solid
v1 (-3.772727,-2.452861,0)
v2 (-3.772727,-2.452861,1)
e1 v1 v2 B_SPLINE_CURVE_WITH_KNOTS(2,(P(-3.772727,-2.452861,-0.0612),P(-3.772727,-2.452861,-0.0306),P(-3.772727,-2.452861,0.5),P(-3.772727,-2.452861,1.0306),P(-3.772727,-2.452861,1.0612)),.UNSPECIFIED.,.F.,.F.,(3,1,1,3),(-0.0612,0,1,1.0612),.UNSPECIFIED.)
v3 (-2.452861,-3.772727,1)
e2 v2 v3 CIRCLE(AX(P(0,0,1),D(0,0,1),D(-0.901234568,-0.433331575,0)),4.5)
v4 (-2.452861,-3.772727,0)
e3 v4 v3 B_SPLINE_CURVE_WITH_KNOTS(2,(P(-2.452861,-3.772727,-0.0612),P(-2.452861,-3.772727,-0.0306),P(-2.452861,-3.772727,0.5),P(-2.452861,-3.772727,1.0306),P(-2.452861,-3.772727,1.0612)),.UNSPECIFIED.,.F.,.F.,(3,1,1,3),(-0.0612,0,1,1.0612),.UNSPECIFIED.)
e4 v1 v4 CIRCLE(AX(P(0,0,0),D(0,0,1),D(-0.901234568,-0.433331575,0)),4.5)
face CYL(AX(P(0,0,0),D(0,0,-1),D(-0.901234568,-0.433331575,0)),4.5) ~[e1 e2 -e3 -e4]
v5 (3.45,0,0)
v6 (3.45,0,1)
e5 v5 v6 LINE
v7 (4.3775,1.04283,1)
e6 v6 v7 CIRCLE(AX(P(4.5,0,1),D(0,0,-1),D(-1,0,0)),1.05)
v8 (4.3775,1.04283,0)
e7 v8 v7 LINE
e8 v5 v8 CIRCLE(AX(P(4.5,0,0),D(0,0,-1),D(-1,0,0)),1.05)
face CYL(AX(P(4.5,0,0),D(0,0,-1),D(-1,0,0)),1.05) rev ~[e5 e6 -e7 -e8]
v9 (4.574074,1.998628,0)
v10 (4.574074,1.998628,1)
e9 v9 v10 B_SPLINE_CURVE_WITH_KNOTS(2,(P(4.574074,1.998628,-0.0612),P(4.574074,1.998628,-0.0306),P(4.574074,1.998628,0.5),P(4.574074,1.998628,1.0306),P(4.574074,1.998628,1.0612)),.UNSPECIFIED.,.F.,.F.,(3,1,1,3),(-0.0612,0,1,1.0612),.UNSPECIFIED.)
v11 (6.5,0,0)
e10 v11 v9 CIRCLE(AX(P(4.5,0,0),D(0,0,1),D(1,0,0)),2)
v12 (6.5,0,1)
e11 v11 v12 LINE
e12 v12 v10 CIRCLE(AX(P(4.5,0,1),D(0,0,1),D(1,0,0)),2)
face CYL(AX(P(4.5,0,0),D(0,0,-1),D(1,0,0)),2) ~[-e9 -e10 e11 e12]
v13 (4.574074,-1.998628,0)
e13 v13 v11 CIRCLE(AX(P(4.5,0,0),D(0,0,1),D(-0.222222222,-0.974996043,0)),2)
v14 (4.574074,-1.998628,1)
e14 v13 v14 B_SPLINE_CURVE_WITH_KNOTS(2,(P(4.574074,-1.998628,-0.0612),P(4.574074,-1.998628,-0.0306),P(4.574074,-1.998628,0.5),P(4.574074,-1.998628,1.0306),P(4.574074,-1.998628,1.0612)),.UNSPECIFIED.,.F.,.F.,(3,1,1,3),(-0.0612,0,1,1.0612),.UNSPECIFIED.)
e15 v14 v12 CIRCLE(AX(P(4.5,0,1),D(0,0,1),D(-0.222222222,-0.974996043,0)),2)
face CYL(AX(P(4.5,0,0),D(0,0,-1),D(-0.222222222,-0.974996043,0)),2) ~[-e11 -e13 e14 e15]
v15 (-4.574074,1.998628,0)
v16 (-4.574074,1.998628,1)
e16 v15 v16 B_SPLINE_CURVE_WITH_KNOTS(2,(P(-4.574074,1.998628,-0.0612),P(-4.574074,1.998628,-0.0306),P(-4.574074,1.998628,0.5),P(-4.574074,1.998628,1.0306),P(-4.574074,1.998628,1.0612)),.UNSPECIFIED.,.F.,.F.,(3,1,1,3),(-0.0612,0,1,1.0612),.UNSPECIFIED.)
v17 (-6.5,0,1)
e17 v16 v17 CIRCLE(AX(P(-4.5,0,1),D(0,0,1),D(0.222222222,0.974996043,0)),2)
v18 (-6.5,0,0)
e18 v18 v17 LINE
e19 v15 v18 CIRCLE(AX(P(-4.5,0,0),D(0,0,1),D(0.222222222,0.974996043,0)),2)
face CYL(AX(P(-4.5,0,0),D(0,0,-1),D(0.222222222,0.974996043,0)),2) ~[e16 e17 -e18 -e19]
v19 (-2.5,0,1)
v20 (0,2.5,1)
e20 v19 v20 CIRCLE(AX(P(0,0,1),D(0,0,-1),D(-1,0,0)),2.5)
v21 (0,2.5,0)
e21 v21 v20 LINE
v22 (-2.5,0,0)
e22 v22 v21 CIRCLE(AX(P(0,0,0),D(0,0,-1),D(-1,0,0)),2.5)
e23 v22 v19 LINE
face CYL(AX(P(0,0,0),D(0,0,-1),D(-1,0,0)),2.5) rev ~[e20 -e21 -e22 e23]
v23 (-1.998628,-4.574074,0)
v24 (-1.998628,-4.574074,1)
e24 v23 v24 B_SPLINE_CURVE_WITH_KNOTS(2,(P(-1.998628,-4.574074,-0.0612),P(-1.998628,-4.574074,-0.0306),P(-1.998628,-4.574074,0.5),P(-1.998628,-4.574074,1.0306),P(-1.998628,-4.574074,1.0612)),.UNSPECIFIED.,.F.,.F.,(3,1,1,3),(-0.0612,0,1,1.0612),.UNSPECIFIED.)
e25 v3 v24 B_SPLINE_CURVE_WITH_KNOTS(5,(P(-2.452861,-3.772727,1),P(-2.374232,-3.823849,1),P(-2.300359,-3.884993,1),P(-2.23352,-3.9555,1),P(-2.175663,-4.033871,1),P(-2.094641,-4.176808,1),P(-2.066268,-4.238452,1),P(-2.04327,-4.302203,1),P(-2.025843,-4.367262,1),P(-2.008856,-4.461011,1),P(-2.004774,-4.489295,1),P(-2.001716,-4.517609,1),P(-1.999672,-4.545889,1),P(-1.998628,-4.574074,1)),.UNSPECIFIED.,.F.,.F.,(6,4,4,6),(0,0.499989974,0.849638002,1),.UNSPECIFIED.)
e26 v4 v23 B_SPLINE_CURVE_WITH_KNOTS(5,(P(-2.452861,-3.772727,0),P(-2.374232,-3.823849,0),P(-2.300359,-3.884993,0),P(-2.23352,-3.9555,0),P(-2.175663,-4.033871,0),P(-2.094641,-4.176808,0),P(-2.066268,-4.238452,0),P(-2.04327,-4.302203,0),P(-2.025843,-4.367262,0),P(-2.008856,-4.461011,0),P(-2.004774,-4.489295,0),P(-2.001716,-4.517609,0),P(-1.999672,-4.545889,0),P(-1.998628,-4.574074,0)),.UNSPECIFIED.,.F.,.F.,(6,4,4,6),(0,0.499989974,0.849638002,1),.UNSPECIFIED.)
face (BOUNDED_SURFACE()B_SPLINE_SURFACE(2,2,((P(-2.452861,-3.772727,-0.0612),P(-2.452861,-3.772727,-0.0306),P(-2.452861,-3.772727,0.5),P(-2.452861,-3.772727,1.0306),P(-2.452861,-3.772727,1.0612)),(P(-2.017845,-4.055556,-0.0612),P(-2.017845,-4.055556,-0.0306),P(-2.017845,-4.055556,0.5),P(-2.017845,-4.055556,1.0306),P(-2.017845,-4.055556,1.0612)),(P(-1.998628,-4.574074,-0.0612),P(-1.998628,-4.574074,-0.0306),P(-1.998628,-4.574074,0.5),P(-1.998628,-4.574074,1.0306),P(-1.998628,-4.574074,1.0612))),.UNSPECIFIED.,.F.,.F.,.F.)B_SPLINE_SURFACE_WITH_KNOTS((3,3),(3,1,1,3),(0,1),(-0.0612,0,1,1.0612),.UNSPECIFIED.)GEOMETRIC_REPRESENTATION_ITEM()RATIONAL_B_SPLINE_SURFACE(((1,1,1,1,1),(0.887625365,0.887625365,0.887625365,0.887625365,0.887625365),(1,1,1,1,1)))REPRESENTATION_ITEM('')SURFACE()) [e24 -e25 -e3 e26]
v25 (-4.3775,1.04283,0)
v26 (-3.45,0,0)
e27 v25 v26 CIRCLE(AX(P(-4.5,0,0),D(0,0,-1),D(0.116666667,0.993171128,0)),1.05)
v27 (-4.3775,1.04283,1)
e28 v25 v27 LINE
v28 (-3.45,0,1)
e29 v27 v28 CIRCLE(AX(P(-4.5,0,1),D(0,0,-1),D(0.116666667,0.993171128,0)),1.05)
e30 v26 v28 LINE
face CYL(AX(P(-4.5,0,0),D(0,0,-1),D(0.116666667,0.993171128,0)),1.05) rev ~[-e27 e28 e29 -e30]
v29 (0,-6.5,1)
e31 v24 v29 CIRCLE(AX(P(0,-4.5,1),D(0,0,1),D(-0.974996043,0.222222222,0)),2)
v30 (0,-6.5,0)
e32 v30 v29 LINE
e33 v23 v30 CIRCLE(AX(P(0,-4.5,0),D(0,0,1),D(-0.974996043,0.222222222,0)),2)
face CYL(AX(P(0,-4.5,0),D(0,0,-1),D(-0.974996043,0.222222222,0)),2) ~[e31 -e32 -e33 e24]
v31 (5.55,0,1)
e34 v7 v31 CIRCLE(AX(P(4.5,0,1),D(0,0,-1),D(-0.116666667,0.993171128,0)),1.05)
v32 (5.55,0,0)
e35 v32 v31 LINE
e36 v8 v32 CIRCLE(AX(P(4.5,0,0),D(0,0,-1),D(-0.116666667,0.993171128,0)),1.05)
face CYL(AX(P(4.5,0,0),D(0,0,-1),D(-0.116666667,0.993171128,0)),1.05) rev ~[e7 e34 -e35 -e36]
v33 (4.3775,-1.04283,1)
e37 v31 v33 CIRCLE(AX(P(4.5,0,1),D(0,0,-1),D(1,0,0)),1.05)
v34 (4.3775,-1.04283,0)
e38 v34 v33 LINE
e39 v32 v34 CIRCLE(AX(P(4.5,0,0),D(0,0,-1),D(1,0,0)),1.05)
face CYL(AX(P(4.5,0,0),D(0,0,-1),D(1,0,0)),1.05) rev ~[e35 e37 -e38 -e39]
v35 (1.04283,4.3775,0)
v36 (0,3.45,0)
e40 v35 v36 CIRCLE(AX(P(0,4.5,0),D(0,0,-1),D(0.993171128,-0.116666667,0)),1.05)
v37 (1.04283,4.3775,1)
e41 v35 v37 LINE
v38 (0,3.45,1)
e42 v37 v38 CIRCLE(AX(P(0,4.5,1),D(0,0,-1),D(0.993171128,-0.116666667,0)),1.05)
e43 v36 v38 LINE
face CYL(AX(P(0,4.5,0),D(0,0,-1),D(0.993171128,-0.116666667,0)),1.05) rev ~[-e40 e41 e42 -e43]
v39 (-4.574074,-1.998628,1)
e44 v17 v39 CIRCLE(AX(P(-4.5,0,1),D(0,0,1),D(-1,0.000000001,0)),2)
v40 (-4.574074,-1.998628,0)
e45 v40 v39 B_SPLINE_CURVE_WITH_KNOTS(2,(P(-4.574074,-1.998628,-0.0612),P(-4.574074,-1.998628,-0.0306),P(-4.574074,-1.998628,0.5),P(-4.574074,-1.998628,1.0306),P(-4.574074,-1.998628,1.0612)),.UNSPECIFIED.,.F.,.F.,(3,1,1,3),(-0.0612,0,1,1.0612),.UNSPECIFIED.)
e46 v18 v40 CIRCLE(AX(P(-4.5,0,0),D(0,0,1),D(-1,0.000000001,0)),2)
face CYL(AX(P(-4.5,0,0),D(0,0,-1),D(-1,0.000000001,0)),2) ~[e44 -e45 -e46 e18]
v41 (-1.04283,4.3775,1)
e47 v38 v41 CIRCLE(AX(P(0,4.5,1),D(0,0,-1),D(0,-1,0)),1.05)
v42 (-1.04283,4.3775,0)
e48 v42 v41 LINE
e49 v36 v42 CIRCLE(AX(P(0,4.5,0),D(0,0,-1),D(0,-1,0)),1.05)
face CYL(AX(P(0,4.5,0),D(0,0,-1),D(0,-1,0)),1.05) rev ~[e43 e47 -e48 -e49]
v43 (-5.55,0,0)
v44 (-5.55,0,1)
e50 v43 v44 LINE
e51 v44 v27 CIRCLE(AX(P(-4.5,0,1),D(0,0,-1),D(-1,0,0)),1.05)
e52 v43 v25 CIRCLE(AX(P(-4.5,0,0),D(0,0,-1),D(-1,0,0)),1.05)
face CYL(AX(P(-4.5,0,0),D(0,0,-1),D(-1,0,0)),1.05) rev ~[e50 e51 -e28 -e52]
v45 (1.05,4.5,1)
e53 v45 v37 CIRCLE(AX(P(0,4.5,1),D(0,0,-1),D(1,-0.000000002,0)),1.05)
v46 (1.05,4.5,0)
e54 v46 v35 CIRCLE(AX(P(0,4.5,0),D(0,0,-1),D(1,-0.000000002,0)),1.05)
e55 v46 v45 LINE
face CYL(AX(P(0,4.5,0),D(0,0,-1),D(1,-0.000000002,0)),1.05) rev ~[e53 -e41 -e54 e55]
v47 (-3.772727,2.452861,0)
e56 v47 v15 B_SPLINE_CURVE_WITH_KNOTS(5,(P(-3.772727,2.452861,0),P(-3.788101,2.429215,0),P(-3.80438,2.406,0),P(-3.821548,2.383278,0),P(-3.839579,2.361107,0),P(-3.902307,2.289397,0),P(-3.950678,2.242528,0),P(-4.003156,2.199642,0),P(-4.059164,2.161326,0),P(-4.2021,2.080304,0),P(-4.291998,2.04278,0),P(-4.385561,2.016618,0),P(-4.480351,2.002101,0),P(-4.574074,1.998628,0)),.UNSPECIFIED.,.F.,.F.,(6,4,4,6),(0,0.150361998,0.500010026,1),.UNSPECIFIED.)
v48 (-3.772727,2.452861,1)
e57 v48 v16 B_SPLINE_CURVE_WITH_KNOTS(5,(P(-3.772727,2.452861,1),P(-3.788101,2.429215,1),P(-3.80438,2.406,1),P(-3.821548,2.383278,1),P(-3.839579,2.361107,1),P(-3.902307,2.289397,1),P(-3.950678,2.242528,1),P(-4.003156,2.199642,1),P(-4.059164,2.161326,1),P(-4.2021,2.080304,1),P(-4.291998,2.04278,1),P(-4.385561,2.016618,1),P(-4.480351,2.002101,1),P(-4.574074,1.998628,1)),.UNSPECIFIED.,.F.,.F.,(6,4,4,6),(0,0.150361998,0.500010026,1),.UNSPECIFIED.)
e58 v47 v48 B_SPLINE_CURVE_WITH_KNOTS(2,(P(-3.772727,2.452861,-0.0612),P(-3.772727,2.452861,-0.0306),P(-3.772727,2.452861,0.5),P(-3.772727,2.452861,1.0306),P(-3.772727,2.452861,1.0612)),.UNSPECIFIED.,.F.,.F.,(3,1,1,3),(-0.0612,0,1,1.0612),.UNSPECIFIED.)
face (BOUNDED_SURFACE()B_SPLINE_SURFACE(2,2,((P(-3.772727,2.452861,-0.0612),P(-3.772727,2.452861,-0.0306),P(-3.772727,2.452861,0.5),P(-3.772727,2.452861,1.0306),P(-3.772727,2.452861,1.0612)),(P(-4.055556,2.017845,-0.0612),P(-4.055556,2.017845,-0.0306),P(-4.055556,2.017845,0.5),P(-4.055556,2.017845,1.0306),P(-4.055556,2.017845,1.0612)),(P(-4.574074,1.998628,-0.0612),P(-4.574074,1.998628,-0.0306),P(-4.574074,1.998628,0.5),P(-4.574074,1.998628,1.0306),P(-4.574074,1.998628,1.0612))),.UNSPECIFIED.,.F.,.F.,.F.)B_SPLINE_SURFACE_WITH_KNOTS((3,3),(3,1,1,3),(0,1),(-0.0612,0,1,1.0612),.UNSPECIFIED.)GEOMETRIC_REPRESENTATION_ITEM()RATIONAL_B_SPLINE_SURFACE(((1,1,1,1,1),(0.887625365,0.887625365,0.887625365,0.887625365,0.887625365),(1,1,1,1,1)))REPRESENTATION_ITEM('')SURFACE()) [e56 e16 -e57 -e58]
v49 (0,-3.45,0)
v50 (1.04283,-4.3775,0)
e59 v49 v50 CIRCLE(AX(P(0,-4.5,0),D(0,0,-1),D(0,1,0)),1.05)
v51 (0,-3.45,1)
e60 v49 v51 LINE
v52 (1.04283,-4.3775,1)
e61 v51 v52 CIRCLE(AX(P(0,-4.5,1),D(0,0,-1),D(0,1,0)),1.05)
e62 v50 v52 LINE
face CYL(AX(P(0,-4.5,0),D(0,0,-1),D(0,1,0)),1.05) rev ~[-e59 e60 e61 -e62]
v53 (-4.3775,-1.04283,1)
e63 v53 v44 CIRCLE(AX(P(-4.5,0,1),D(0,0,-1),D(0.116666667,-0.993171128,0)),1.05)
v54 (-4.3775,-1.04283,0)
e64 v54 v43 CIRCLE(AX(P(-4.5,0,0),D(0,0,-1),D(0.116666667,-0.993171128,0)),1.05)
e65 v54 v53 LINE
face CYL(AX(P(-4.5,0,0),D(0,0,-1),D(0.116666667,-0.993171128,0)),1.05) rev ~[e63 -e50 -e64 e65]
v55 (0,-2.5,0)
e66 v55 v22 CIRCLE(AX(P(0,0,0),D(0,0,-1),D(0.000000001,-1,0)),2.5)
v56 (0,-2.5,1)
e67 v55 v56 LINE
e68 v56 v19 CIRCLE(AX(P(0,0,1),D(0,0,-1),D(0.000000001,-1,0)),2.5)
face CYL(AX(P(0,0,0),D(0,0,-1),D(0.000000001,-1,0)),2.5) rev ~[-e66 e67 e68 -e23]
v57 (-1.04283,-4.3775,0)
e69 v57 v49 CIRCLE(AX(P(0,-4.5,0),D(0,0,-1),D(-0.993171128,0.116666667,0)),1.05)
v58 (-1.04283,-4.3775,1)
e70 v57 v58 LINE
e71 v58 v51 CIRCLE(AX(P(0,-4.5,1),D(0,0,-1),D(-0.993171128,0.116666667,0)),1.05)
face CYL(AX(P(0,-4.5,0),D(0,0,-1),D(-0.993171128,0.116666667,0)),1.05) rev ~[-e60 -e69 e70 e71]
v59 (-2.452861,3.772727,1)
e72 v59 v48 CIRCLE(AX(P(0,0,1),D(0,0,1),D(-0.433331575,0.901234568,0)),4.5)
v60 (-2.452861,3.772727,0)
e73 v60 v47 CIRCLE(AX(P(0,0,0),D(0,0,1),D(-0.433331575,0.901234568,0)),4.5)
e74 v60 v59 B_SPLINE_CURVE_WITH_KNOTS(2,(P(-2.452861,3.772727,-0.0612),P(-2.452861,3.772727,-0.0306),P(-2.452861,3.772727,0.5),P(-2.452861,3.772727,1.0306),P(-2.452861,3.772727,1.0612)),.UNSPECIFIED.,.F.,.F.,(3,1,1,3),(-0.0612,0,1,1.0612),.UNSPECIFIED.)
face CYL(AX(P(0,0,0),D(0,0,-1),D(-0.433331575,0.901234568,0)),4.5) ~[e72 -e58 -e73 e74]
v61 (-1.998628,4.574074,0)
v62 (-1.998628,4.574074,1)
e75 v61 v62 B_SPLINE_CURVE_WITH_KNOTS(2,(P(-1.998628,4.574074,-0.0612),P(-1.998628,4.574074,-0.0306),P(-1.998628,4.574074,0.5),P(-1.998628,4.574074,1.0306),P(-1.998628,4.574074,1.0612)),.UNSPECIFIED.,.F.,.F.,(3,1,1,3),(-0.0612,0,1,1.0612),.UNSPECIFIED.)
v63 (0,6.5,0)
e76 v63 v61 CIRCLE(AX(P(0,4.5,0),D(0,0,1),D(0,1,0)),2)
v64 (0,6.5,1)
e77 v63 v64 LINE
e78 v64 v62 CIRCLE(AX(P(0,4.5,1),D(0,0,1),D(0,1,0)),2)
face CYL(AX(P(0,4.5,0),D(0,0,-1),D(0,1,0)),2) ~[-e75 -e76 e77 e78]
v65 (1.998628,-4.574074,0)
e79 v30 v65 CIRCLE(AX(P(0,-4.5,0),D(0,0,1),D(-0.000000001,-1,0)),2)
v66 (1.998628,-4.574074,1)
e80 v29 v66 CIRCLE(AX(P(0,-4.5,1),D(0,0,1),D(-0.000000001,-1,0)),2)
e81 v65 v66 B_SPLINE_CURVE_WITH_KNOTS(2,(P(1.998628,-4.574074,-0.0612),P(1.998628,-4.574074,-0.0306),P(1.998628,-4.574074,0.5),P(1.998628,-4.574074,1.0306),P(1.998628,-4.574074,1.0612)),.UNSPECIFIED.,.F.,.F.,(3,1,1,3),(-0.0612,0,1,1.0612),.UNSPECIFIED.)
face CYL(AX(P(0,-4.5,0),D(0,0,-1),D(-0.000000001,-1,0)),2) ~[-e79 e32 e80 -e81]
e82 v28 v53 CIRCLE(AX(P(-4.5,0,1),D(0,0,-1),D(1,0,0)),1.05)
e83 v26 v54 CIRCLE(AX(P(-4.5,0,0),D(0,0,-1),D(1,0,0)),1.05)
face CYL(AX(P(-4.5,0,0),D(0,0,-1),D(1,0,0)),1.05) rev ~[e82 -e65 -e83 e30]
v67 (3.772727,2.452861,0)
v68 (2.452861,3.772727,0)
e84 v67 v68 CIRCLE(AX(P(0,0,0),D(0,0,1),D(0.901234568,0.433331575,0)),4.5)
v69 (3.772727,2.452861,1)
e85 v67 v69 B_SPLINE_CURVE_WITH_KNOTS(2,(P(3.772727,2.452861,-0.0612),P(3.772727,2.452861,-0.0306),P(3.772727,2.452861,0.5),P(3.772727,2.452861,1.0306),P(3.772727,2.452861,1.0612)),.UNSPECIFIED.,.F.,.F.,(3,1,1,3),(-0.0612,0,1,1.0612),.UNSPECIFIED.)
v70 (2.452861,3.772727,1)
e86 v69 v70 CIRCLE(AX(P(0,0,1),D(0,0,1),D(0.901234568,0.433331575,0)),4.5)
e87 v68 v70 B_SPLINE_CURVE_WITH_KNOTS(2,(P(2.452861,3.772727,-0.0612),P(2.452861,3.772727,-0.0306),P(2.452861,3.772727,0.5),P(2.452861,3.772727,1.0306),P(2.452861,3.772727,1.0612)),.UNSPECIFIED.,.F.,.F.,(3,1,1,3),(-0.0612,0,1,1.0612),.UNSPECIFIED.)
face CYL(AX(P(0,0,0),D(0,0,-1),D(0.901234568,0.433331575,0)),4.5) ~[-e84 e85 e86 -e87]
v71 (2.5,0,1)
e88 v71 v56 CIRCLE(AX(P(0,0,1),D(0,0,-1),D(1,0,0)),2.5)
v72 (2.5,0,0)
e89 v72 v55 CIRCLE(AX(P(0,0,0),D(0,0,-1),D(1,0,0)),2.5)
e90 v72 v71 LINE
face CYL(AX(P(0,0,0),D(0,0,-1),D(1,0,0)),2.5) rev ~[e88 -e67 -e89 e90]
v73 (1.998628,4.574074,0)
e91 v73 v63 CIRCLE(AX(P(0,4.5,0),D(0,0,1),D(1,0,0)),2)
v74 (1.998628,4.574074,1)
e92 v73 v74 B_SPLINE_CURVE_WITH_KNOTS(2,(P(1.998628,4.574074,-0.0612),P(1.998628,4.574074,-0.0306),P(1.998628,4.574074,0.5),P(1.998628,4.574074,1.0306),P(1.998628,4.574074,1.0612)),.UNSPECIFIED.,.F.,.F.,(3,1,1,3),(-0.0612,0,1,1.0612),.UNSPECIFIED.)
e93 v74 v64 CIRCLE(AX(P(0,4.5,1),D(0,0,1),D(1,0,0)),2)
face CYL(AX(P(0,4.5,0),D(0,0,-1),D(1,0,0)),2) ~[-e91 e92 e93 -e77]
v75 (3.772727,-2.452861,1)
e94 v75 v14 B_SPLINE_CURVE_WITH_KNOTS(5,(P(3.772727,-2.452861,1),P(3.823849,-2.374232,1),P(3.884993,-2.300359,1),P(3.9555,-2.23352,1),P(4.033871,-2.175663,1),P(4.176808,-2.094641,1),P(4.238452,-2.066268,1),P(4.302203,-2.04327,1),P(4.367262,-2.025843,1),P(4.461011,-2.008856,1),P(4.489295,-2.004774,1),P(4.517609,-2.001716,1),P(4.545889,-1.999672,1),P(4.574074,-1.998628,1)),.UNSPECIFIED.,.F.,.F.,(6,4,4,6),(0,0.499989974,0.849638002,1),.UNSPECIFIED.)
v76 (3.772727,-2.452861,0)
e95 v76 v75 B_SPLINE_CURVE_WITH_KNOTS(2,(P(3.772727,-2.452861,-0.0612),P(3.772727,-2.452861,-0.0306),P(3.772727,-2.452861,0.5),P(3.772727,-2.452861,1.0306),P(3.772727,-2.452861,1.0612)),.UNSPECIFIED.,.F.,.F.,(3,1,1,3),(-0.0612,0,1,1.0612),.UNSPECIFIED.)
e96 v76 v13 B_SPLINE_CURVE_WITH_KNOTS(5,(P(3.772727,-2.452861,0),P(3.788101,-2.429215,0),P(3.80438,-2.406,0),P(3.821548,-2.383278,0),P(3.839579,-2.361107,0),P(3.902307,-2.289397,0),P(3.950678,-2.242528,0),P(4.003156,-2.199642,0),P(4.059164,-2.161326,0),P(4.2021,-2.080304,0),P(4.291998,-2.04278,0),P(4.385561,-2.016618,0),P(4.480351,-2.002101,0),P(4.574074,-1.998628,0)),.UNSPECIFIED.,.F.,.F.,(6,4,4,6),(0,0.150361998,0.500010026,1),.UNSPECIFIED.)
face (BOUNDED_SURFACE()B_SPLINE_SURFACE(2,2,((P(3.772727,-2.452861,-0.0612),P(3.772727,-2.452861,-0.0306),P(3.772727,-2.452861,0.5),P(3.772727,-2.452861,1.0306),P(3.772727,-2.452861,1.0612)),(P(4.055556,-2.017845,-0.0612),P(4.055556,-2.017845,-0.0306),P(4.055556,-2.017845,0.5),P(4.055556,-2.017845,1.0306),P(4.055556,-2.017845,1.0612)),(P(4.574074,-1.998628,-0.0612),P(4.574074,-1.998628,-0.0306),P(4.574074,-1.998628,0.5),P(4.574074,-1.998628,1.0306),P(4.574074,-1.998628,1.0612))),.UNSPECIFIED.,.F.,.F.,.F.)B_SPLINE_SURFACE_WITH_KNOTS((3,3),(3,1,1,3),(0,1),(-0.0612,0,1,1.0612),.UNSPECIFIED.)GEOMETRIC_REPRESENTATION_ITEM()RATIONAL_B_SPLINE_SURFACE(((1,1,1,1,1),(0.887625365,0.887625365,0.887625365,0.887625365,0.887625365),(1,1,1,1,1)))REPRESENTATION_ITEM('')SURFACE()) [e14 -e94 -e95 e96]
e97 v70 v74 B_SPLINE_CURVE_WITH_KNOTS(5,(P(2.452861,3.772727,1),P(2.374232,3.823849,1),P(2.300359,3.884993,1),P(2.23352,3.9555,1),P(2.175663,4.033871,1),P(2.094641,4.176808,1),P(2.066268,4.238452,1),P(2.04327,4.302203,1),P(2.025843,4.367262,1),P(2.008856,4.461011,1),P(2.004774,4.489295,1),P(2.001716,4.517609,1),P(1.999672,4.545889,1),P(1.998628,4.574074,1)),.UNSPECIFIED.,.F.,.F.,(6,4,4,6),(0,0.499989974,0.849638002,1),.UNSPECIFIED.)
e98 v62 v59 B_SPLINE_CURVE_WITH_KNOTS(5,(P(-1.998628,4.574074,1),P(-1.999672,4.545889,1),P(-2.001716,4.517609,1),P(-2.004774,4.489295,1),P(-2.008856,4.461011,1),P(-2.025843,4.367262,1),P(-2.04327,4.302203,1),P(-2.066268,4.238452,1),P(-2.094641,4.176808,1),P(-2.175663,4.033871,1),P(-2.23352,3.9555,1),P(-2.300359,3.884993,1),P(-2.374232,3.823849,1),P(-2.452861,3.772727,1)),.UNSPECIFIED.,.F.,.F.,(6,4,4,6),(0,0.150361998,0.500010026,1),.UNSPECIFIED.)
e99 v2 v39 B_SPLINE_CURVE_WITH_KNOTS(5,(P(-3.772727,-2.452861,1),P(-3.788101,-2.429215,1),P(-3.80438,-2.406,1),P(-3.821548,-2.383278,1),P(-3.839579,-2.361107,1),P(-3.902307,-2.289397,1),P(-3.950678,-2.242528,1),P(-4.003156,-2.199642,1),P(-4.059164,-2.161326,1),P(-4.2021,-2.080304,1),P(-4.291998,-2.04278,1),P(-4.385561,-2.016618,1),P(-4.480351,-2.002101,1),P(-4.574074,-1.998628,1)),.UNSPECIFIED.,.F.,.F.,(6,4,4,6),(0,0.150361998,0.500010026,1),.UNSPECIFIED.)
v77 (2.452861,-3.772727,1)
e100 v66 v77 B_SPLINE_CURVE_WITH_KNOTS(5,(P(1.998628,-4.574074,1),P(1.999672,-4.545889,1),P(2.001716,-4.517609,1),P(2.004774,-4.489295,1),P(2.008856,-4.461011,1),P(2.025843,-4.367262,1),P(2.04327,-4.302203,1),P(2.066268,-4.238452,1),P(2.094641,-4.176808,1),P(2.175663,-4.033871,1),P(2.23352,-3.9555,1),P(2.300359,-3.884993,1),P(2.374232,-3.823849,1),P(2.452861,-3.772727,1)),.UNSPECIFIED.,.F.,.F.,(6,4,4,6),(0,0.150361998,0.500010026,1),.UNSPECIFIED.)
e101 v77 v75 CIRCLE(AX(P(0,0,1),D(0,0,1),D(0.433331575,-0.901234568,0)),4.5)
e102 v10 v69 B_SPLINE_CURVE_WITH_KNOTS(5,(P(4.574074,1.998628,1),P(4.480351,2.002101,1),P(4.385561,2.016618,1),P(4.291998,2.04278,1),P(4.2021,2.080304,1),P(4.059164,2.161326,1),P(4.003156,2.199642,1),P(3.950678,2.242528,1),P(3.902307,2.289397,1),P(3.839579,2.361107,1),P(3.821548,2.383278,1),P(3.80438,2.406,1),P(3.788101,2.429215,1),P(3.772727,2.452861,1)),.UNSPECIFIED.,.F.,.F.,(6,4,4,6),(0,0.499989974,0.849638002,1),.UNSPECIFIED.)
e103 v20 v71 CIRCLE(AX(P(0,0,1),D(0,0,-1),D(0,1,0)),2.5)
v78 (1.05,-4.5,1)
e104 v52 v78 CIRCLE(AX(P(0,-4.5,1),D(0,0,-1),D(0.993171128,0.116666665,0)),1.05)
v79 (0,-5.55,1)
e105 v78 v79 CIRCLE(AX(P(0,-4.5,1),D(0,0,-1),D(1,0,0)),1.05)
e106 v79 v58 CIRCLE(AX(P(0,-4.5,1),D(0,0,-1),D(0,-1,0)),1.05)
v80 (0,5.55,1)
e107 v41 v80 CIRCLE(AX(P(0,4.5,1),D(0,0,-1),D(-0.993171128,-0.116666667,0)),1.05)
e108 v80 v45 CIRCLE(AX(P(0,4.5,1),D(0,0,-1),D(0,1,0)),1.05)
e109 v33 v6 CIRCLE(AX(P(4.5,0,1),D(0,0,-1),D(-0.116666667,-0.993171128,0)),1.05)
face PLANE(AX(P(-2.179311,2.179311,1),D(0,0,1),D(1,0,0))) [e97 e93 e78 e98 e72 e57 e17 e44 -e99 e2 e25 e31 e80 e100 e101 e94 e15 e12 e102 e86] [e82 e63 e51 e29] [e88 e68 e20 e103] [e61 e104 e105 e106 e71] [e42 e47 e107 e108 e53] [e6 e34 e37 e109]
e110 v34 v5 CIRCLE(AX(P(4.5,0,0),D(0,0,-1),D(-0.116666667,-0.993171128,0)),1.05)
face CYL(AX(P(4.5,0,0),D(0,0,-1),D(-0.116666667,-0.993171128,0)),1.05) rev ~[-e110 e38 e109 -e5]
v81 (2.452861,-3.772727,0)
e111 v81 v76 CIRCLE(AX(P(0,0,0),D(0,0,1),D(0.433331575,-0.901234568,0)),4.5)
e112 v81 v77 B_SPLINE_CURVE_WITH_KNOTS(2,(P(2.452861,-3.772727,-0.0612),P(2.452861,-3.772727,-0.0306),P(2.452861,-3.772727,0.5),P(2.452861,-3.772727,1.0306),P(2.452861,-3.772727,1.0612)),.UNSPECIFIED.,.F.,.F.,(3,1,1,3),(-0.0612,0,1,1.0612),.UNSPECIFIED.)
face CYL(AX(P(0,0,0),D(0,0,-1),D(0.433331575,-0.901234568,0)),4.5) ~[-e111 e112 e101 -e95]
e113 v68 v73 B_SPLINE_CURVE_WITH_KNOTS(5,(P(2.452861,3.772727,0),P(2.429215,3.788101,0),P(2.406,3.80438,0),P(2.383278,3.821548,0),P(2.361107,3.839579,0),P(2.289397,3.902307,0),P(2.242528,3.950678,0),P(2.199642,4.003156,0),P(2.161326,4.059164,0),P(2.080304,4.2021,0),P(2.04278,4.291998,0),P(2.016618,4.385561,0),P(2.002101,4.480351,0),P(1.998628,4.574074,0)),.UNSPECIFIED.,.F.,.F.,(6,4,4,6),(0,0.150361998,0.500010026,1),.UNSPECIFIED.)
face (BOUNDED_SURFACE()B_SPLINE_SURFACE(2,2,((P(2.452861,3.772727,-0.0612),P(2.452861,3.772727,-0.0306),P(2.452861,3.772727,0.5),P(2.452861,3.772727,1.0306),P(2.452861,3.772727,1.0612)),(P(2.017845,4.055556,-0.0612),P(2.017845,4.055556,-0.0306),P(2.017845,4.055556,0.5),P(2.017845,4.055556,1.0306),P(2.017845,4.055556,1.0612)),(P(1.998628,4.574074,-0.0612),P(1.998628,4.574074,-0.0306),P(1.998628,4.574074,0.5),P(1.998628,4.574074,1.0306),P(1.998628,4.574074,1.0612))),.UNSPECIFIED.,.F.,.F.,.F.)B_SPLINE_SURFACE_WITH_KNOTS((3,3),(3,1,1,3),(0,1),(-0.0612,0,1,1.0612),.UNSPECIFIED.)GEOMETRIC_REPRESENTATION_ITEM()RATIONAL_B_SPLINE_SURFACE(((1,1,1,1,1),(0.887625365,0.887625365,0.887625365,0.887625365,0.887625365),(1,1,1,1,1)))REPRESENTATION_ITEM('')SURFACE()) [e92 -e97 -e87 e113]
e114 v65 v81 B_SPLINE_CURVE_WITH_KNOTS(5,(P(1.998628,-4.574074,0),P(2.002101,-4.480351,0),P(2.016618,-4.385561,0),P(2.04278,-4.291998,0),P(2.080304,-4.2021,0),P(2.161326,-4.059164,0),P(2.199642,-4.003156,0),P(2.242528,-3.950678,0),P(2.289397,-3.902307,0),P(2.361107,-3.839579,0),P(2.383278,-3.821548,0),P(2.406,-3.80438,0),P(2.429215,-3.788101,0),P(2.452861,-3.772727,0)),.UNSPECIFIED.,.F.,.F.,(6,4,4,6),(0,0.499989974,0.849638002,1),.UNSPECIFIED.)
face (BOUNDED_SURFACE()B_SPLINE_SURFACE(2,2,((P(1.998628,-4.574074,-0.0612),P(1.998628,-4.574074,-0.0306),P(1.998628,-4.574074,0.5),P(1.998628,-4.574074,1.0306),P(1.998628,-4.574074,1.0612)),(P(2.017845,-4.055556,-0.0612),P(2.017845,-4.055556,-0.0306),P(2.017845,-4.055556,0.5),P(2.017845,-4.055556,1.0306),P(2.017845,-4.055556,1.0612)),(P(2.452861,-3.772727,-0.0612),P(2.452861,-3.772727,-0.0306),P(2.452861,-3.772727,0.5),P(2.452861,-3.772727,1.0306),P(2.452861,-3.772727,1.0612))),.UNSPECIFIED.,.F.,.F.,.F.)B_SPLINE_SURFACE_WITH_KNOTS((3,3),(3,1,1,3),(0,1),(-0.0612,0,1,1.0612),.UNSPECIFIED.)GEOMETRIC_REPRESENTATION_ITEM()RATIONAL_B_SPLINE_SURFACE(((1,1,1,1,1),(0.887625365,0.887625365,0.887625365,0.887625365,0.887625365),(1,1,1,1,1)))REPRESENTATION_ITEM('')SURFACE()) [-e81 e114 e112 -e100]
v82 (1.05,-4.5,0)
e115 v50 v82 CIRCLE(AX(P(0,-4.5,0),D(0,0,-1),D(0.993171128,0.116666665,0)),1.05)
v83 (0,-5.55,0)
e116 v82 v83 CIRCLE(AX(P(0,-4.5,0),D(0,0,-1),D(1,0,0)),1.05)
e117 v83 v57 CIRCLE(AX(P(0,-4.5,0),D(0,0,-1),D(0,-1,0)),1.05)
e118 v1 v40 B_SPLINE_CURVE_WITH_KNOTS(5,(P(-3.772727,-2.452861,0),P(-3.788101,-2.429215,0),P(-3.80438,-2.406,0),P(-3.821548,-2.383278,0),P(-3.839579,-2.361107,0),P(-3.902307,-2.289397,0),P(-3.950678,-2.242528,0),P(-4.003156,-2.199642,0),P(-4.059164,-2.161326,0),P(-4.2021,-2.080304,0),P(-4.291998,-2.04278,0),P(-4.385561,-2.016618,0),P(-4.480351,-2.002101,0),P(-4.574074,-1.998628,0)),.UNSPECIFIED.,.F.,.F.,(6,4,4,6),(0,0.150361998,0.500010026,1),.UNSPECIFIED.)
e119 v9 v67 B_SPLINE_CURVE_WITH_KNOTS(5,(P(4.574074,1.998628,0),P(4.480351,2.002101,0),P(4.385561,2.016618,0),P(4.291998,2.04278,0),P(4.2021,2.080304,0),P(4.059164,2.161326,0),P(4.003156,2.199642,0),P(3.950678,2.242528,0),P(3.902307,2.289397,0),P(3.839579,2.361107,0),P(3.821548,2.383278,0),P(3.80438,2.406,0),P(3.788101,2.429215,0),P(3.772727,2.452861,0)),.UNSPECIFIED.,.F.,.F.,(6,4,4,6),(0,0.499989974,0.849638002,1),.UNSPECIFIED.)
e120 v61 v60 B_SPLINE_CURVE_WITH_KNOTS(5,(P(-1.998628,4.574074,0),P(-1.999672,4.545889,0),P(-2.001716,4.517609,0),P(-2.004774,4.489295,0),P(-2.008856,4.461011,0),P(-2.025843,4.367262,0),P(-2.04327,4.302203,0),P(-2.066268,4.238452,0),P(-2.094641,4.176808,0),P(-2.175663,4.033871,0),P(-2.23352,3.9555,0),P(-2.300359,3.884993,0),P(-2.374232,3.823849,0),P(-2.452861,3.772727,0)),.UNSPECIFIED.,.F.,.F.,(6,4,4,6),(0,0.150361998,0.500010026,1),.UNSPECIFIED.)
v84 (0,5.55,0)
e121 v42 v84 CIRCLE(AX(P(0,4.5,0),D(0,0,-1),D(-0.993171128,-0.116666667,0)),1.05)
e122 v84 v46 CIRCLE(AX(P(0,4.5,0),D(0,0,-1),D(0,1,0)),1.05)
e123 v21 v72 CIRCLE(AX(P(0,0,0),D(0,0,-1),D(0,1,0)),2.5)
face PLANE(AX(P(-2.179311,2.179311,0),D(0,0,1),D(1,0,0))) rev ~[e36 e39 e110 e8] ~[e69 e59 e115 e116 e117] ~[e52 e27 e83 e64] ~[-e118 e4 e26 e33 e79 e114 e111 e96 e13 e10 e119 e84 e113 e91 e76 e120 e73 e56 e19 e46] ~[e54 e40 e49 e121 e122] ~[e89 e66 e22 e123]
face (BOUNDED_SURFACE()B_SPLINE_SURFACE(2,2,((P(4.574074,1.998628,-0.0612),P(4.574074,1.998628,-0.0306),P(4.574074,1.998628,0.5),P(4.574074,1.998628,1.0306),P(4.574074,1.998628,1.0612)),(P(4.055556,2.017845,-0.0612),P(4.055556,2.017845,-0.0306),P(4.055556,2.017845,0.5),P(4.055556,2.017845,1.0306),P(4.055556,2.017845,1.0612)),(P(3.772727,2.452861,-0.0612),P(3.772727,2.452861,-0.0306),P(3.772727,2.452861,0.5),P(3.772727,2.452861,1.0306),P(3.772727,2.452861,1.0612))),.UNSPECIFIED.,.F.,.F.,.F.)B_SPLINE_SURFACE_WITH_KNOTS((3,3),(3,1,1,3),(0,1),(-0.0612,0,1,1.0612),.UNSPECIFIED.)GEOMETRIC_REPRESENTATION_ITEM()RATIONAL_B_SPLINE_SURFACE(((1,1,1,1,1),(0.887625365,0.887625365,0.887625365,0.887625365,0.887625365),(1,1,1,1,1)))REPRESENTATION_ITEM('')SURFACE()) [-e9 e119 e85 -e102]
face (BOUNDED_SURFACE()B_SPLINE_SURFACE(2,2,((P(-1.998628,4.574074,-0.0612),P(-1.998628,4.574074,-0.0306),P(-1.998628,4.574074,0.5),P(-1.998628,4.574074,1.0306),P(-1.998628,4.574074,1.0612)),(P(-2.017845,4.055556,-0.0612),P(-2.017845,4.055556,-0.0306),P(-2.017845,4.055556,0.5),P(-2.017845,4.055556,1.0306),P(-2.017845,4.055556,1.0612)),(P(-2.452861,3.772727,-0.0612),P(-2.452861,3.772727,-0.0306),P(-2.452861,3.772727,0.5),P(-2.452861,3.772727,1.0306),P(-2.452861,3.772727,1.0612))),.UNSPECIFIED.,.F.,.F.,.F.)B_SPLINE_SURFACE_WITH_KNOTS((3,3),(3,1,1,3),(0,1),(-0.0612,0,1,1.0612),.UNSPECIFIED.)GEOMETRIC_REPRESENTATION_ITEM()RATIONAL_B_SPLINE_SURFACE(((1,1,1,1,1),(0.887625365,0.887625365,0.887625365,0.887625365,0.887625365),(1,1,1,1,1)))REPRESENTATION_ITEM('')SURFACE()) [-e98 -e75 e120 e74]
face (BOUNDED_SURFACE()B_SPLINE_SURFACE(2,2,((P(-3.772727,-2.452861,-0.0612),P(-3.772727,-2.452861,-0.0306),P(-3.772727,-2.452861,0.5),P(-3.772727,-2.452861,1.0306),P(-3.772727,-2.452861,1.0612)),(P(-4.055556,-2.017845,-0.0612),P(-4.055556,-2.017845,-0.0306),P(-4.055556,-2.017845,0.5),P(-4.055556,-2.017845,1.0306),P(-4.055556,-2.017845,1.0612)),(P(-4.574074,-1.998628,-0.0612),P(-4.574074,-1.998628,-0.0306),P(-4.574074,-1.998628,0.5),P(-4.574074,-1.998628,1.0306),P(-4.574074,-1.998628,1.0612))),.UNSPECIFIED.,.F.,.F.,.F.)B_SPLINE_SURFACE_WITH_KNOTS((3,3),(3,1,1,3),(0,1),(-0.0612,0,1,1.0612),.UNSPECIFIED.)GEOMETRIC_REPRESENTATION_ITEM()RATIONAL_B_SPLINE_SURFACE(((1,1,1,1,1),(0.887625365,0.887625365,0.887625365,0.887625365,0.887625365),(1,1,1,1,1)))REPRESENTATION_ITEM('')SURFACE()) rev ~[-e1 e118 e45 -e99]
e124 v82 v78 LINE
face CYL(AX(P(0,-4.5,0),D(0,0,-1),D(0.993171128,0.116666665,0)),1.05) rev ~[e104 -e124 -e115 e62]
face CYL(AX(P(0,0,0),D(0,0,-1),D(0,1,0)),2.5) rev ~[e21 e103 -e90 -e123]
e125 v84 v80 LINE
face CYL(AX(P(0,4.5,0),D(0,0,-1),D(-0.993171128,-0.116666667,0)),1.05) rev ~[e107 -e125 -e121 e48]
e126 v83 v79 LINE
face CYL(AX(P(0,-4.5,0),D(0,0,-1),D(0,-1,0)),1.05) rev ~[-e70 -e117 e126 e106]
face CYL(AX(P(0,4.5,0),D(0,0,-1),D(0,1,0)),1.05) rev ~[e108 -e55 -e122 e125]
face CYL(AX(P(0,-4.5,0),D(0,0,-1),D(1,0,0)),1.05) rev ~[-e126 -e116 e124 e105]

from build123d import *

# Parameters (mm, degrees)
F1_DEPTH = 1
F2_R     = 1


with BuildPart() as f1:
    # F0 (on Top) → F1 (new body)
    with BuildSketch(Plane.XY):
        with BuildLine():
            ThreePointArc((-2.5, 0), (-1.767766953, 1.767766953), (0, 2.5))
            ThreePointArc((0, 2.5), (-1.2472191289, 2.9365280801), (-1.9499920861, 4.0555555556))
            ThreePointArc((-1.9499920861, 4.0555555556), (-3.1819805153, 3.1819805153), (-4.0555555556, 1.9499920861))
            ThreePointArc((-4.0555555556, 1.9499920861), (-2.9365280801, 1.2472191289), (-2.5, 0))
        make_face()
        with BuildLine():
            Line((-3.45, 0), (-2.5, 0))
            ThreePointArc((-2.5, 0), (-2.9365280801, 1.2472191289), (-4.0555555556, 1.9499920861))
            ThreePointArc((-4.0555555556, 1.9499920861), (-4.2408539714, 1.5050440503), (-4.3775, 1.0428296841))
            ThreePointArc((-4.3775, 1.0428296841), (-3.715422088, 0.6978090713), (-3.45, 0))
        make_face()
        with BuildLine():
            ThreePointArc((-4.0555555556, -1.9499920861), (-2.9365280801, -1.2472191289), (-2.5, 0))
            Line((-2.5, 0), (-3.45, 0))
            ThreePointArc((-3.45, 0), (-3.715422088, -0.6978090713), (-4.3775, -1.0428296841))
            ThreePointArc((-4.3775, -1.0428296841), (-4.2408539714, -1.5050440503), (-4.0555555556, -1.9499920861))
        make_face()
        with BuildLine():
            ThreePointArc((-1.9499920861, -4.0555555556), (-1.2472191276, -2.936528079), (3.3e-09, -2.5))
            ThreePointArc((3.3e-09, -2.5), (-1.7677669518, -1.7677669542), (-2.5, 0))
            ThreePointArc((-2.5, 0), (-2.9365280801, -1.2472191289), (-4.0555555556, -1.9499920861))
            ThreePointArc((-4.0555555556, -1.9499920861), (-3.1819805153, -3.1819805153), (-1.9499920861, -4.0555555556))
        make_face()
        with BuildLine():
            ThreePointArc((4.0555555556, -1.9499920861), (2.9365280801, -1.2472191289), (2.5, 0))
            ThreePointArc((2.5, 0), (1.7677669542, -1.7677669518), (3.3e-09, -2.5))
            ThreePointArc((3.3e-09, -2.5), (1.2472191302, -2.9365280811), (1.9499920861, -4.0555555556))
            ThreePointArc((1.9499920861, -4.0555555556), (3.1819805153, -3.1819805153), (4.0555555556, -1.9499920861))
        make_face()
        with BuildLine():
            Line((3.45, 0), (2.5, 0))
            ThreePointArc((2.5, 0), (2.9365280801, -1.2472191289), (4.0555555556, -1.9499920861))
            ThreePointArc((4.0555555556, -1.9499920861), (4.2408539714, -1.5050440503), (4.3775, -1.0428296841))
            ThreePointArc((4.3775, -1.0428296841), (3.715422088, -0.6978090713), (3.45, 0))
        make_face()
        with BuildLine():
            ThreePointArc((4.0555555556, 1.9499920861), (2.9365280801, 1.2472191289), (2.5, 0))
            Line((2.5, 0), (3.45, 0))
            ThreePointArc((3.45, 0), (3.715422088, 0.6978090713), (4.3775, 1.0428296841))
            ThreePointArc((4.3775, 1.0428296841), (4.2408539714, 1.5050440503), (4.0555555556, 1.9499920861))
        make_face()
        with BuildLine():
            ThreePointArc((0, 2.5), (1.767766953, 1.767766953), (2.5, 0))
            ThreePointArc((2.5, 0), (2.9365280801, 1.2472191289), (4.0555555556, 1.9499920861))
            ThreePointArc((4.0555555556, 1.9499920861), (3.1819805153, 3.1819805153), (1.9499920861, 4.0555555556))
            ThreePointArc((1.9499920861, 4.0555555556), (1.2472191289, 2.9365280801), (0, 2.5))
        make_face()
        with BuildLine():
            Line((0, 3.45), (0, 2.5))
            ThreePointArc((0, 2.5), (1.2472191289, 2.9365280801), (1.9499920861, 4.0555555556))
            ThreePointArc((1.9499920861, 4.0555555556), (1.5050440503, 4.2408539714), (1.0428296841, 4.3775))
            ThreePointArc((1.0428296841, 4.3775), (0.6978090713, 3.715422088), (0, 3.45))
        make_face()
        with BuildLine():
            ThreePointArc((-1.9499920861, 4.0555555556), (-1.2472191289, 2.9365280801), (0, 2.5))
            Line((0, 2.5), (0, 3.45))
            ThreePointArc((0, 3.45), (-0.6978090713, 3.715422088), (-1.0428296841, 4.3775))
            ThreePointArc((-1.0428296841, 4.3775), (-1.5050440503, 4.2408539714), (-1.9499920861, 4.0555555556))
        make_face()
        with BuildLine():
            ThreePointArc((0, 6.5), (-1.5634719199, 5.7472191289), (-1.9499920861, 4.0555555556))
            ThreePointArc((-1.9499920861, 4.0555555556), (-1.5050440503, 4.2408539714), (-1.0428296841, 4.3775))
            ThreePointArc((-1.0428296841, 4.3775), (-0.784577912, 5.1978090713), (0, 5.55))
            Line((0, 5.55), (0, 6.5))
        make_face()
        with BuildLine():
            ThreePointArc((1.0428296841, 4.3775), (1.5050440503, 4.2408539714), (1.9499920861, 4.0555555556))
            ThreePointArc((1.9499920861, 4.0555555556), (1.9874587005, 4.2763755069), (2, 4.5))
            ThreePointArc((2, 4.5), (1.4142135624, 5.9142135624), (0, 6.5))
            Line((0, 6.5), (0, 5.55))
            ThreePointArc((0, 5.55), (0.7424621202, 5.2424621202), (1.05, 4.5))
            ThreePointArc((1.05, 4.5), (1.0482058882, 4.4386451644), (1.0428296841, 4.3775))
        make_face()
        with BuildLine():
            ThreePointArc((6.5, 0), (5.7472191289, 1.5634719199), (4.0555555556, 1.9499920861))
            ThreePointArc((4.0555555556, 1.9499920861), (4.2408539714, 1.5050440503), (4.3775, 1.0428296841))
            ThreePointArc((4.3775, 1.0428296841), (5.1978090713, 0.784577912), (5.55, 0))
            Line((5.55, 0), (6.5, 0))
        make_face()
        with BuildLine():
            ThreePointArc((4.3775, -1.0428296841), (4.2408539714, -1.5050440503), (4.0555555556, -1.9499920861))
            ThreePointArc((4.0555555556, -1.9499920861), (5.7472191289, -1.5634719199), (6.5, 0))
            Line((6.5, 0), (5.55, 0))
            ThreePointArc((5.55, 0), (5.1978090713, -0.784577912), (4.3775, -1.0428296841))
        make_face()
        with BuildLine():
            ThreePointArc((1.9499920861, -4.0555555556), (1.2472191302, -2.9365280811), (3.3e-09, -2.5))
            Line((0, -2.5), (0, -3.45))
            ThreePointArc((0, -3.45), (0.6978090713, -3.715422088), (1.0428296841, -4.3775))
            ThreePointArc((1.0428296841, -4.3775), (1.5050440503, -4.2408539714), (1.9499920861, -4.0555555556))
        make_face()
        with BuildLine():
            Line((0, -3.45), (0, -2.5))
            ThreePointArc((3.3e-09, -2.5), (-1.2472191276, -2.936528079), (-1.9499920861, -4.0555555556))
            ThreePointArc((-1.9499920861, -4.0555555556), (-1.5050440503, -4.2408539714), (-1.0428296841, -4.3775))
            ThreePointArc((-1.0428296841, -4.3775), (-0.6978090713, -3.715422088), (0, -3.45))
        make_face()
        with BuildLine():
            ThreePointArc((-1.0428296841, -4.3775), (-1.5050440503, -4.2408539714), (-1.9499920861, -4.0555555556))
            ThreePointArc((-1.9499920861, -4.0555555556), (-1.5634719204, -5.7472191284), (-1.3e-09, -6.5))
            Line((0, -6.5), (0, -5.55))
            ThreePointArc((0, -5.55), (-0.784577912, -5.1978090713), (-1.0428296841, -4.3775))
        make_face()
        with BuildLine():
            ThreePointArc((2, -4.5), (1.9874587005, -4.2763755069), (1.9499920861, -4.0555555556))
            ThreePointArc((1.9499920861, -4.0555555556), (1.5050440503, -4.2408539714), (1.0428296841, -4.3775))
            ThreePointArc((1.0428296841, -4.3775), (1.0482058882, -4.4386451644), (1.05, -4.5))
            ThreePointArc((1.05, -4.5), (0.7424621202, -5.2424621202), (0, -5.55))
            Line((0, -5.55), (0, -6.5))
            ThreePointArc((-1.3e-09, -6.5), (1.4142135619, -5.9142135628), (2, -4.5))
        make_face()
        with BuildLine():
            ThreePointArc((-6.5, 2.4e-09), (-5.7472191299, -1.5634719192), (-4.0555555556, -1.9499920861))
            ThreePointArc((-4.0555555556, -1.9499920861), (-4.2408539714, -1.5050440503), (-4.3775, -1.0428296841))
            ThreePointArc((-4.3775, -1.0428296841), (-5.1978090713, -0.784577912), (-5.55, 0))
            Line((-5.55, 0), (-6.5, 0))
        make_face()
        with BuildLine():
            ThreePointArc((-4.3775, 1.0428296841), (-4.2408539714, 1.5050440503), (-4.0555555556, 1.9499920861))
            ThreePointArc((-4.0555555556, 1.9499920861), (-5.747219128, 1.5634719207), (-6.5, 2.4e-09))
            Line((-6.5, 0), (-5.55, 0))
            ThreePointArc((-5.55, 0), (-5.1978090713, 0.784577912), (-4.3775, 1.0428296841))
        make_face()
    extrude(amount=F1_DEPTH)

    # F2
    f2_edges = [f1.edges().sort_by_distance(p)[0] for p in [
        (-4.055556, 1.949992, 0.5),
        (-1.949992, 4.055556, 0.5),
        (1.949992, 4.055556, 0.5),
        (4.055556, 1.949992, 0.5),
        (4.055556, -1.949992, 0.5),
        (1.949992, -4.055556, 0.5),
        (-1.949992, -4.055556, 0.5),
        (-4.055556, -1.949992, 0.5),
    ]]
    fillet(f2_edges, radius=F2_R)


solid = f1.part
